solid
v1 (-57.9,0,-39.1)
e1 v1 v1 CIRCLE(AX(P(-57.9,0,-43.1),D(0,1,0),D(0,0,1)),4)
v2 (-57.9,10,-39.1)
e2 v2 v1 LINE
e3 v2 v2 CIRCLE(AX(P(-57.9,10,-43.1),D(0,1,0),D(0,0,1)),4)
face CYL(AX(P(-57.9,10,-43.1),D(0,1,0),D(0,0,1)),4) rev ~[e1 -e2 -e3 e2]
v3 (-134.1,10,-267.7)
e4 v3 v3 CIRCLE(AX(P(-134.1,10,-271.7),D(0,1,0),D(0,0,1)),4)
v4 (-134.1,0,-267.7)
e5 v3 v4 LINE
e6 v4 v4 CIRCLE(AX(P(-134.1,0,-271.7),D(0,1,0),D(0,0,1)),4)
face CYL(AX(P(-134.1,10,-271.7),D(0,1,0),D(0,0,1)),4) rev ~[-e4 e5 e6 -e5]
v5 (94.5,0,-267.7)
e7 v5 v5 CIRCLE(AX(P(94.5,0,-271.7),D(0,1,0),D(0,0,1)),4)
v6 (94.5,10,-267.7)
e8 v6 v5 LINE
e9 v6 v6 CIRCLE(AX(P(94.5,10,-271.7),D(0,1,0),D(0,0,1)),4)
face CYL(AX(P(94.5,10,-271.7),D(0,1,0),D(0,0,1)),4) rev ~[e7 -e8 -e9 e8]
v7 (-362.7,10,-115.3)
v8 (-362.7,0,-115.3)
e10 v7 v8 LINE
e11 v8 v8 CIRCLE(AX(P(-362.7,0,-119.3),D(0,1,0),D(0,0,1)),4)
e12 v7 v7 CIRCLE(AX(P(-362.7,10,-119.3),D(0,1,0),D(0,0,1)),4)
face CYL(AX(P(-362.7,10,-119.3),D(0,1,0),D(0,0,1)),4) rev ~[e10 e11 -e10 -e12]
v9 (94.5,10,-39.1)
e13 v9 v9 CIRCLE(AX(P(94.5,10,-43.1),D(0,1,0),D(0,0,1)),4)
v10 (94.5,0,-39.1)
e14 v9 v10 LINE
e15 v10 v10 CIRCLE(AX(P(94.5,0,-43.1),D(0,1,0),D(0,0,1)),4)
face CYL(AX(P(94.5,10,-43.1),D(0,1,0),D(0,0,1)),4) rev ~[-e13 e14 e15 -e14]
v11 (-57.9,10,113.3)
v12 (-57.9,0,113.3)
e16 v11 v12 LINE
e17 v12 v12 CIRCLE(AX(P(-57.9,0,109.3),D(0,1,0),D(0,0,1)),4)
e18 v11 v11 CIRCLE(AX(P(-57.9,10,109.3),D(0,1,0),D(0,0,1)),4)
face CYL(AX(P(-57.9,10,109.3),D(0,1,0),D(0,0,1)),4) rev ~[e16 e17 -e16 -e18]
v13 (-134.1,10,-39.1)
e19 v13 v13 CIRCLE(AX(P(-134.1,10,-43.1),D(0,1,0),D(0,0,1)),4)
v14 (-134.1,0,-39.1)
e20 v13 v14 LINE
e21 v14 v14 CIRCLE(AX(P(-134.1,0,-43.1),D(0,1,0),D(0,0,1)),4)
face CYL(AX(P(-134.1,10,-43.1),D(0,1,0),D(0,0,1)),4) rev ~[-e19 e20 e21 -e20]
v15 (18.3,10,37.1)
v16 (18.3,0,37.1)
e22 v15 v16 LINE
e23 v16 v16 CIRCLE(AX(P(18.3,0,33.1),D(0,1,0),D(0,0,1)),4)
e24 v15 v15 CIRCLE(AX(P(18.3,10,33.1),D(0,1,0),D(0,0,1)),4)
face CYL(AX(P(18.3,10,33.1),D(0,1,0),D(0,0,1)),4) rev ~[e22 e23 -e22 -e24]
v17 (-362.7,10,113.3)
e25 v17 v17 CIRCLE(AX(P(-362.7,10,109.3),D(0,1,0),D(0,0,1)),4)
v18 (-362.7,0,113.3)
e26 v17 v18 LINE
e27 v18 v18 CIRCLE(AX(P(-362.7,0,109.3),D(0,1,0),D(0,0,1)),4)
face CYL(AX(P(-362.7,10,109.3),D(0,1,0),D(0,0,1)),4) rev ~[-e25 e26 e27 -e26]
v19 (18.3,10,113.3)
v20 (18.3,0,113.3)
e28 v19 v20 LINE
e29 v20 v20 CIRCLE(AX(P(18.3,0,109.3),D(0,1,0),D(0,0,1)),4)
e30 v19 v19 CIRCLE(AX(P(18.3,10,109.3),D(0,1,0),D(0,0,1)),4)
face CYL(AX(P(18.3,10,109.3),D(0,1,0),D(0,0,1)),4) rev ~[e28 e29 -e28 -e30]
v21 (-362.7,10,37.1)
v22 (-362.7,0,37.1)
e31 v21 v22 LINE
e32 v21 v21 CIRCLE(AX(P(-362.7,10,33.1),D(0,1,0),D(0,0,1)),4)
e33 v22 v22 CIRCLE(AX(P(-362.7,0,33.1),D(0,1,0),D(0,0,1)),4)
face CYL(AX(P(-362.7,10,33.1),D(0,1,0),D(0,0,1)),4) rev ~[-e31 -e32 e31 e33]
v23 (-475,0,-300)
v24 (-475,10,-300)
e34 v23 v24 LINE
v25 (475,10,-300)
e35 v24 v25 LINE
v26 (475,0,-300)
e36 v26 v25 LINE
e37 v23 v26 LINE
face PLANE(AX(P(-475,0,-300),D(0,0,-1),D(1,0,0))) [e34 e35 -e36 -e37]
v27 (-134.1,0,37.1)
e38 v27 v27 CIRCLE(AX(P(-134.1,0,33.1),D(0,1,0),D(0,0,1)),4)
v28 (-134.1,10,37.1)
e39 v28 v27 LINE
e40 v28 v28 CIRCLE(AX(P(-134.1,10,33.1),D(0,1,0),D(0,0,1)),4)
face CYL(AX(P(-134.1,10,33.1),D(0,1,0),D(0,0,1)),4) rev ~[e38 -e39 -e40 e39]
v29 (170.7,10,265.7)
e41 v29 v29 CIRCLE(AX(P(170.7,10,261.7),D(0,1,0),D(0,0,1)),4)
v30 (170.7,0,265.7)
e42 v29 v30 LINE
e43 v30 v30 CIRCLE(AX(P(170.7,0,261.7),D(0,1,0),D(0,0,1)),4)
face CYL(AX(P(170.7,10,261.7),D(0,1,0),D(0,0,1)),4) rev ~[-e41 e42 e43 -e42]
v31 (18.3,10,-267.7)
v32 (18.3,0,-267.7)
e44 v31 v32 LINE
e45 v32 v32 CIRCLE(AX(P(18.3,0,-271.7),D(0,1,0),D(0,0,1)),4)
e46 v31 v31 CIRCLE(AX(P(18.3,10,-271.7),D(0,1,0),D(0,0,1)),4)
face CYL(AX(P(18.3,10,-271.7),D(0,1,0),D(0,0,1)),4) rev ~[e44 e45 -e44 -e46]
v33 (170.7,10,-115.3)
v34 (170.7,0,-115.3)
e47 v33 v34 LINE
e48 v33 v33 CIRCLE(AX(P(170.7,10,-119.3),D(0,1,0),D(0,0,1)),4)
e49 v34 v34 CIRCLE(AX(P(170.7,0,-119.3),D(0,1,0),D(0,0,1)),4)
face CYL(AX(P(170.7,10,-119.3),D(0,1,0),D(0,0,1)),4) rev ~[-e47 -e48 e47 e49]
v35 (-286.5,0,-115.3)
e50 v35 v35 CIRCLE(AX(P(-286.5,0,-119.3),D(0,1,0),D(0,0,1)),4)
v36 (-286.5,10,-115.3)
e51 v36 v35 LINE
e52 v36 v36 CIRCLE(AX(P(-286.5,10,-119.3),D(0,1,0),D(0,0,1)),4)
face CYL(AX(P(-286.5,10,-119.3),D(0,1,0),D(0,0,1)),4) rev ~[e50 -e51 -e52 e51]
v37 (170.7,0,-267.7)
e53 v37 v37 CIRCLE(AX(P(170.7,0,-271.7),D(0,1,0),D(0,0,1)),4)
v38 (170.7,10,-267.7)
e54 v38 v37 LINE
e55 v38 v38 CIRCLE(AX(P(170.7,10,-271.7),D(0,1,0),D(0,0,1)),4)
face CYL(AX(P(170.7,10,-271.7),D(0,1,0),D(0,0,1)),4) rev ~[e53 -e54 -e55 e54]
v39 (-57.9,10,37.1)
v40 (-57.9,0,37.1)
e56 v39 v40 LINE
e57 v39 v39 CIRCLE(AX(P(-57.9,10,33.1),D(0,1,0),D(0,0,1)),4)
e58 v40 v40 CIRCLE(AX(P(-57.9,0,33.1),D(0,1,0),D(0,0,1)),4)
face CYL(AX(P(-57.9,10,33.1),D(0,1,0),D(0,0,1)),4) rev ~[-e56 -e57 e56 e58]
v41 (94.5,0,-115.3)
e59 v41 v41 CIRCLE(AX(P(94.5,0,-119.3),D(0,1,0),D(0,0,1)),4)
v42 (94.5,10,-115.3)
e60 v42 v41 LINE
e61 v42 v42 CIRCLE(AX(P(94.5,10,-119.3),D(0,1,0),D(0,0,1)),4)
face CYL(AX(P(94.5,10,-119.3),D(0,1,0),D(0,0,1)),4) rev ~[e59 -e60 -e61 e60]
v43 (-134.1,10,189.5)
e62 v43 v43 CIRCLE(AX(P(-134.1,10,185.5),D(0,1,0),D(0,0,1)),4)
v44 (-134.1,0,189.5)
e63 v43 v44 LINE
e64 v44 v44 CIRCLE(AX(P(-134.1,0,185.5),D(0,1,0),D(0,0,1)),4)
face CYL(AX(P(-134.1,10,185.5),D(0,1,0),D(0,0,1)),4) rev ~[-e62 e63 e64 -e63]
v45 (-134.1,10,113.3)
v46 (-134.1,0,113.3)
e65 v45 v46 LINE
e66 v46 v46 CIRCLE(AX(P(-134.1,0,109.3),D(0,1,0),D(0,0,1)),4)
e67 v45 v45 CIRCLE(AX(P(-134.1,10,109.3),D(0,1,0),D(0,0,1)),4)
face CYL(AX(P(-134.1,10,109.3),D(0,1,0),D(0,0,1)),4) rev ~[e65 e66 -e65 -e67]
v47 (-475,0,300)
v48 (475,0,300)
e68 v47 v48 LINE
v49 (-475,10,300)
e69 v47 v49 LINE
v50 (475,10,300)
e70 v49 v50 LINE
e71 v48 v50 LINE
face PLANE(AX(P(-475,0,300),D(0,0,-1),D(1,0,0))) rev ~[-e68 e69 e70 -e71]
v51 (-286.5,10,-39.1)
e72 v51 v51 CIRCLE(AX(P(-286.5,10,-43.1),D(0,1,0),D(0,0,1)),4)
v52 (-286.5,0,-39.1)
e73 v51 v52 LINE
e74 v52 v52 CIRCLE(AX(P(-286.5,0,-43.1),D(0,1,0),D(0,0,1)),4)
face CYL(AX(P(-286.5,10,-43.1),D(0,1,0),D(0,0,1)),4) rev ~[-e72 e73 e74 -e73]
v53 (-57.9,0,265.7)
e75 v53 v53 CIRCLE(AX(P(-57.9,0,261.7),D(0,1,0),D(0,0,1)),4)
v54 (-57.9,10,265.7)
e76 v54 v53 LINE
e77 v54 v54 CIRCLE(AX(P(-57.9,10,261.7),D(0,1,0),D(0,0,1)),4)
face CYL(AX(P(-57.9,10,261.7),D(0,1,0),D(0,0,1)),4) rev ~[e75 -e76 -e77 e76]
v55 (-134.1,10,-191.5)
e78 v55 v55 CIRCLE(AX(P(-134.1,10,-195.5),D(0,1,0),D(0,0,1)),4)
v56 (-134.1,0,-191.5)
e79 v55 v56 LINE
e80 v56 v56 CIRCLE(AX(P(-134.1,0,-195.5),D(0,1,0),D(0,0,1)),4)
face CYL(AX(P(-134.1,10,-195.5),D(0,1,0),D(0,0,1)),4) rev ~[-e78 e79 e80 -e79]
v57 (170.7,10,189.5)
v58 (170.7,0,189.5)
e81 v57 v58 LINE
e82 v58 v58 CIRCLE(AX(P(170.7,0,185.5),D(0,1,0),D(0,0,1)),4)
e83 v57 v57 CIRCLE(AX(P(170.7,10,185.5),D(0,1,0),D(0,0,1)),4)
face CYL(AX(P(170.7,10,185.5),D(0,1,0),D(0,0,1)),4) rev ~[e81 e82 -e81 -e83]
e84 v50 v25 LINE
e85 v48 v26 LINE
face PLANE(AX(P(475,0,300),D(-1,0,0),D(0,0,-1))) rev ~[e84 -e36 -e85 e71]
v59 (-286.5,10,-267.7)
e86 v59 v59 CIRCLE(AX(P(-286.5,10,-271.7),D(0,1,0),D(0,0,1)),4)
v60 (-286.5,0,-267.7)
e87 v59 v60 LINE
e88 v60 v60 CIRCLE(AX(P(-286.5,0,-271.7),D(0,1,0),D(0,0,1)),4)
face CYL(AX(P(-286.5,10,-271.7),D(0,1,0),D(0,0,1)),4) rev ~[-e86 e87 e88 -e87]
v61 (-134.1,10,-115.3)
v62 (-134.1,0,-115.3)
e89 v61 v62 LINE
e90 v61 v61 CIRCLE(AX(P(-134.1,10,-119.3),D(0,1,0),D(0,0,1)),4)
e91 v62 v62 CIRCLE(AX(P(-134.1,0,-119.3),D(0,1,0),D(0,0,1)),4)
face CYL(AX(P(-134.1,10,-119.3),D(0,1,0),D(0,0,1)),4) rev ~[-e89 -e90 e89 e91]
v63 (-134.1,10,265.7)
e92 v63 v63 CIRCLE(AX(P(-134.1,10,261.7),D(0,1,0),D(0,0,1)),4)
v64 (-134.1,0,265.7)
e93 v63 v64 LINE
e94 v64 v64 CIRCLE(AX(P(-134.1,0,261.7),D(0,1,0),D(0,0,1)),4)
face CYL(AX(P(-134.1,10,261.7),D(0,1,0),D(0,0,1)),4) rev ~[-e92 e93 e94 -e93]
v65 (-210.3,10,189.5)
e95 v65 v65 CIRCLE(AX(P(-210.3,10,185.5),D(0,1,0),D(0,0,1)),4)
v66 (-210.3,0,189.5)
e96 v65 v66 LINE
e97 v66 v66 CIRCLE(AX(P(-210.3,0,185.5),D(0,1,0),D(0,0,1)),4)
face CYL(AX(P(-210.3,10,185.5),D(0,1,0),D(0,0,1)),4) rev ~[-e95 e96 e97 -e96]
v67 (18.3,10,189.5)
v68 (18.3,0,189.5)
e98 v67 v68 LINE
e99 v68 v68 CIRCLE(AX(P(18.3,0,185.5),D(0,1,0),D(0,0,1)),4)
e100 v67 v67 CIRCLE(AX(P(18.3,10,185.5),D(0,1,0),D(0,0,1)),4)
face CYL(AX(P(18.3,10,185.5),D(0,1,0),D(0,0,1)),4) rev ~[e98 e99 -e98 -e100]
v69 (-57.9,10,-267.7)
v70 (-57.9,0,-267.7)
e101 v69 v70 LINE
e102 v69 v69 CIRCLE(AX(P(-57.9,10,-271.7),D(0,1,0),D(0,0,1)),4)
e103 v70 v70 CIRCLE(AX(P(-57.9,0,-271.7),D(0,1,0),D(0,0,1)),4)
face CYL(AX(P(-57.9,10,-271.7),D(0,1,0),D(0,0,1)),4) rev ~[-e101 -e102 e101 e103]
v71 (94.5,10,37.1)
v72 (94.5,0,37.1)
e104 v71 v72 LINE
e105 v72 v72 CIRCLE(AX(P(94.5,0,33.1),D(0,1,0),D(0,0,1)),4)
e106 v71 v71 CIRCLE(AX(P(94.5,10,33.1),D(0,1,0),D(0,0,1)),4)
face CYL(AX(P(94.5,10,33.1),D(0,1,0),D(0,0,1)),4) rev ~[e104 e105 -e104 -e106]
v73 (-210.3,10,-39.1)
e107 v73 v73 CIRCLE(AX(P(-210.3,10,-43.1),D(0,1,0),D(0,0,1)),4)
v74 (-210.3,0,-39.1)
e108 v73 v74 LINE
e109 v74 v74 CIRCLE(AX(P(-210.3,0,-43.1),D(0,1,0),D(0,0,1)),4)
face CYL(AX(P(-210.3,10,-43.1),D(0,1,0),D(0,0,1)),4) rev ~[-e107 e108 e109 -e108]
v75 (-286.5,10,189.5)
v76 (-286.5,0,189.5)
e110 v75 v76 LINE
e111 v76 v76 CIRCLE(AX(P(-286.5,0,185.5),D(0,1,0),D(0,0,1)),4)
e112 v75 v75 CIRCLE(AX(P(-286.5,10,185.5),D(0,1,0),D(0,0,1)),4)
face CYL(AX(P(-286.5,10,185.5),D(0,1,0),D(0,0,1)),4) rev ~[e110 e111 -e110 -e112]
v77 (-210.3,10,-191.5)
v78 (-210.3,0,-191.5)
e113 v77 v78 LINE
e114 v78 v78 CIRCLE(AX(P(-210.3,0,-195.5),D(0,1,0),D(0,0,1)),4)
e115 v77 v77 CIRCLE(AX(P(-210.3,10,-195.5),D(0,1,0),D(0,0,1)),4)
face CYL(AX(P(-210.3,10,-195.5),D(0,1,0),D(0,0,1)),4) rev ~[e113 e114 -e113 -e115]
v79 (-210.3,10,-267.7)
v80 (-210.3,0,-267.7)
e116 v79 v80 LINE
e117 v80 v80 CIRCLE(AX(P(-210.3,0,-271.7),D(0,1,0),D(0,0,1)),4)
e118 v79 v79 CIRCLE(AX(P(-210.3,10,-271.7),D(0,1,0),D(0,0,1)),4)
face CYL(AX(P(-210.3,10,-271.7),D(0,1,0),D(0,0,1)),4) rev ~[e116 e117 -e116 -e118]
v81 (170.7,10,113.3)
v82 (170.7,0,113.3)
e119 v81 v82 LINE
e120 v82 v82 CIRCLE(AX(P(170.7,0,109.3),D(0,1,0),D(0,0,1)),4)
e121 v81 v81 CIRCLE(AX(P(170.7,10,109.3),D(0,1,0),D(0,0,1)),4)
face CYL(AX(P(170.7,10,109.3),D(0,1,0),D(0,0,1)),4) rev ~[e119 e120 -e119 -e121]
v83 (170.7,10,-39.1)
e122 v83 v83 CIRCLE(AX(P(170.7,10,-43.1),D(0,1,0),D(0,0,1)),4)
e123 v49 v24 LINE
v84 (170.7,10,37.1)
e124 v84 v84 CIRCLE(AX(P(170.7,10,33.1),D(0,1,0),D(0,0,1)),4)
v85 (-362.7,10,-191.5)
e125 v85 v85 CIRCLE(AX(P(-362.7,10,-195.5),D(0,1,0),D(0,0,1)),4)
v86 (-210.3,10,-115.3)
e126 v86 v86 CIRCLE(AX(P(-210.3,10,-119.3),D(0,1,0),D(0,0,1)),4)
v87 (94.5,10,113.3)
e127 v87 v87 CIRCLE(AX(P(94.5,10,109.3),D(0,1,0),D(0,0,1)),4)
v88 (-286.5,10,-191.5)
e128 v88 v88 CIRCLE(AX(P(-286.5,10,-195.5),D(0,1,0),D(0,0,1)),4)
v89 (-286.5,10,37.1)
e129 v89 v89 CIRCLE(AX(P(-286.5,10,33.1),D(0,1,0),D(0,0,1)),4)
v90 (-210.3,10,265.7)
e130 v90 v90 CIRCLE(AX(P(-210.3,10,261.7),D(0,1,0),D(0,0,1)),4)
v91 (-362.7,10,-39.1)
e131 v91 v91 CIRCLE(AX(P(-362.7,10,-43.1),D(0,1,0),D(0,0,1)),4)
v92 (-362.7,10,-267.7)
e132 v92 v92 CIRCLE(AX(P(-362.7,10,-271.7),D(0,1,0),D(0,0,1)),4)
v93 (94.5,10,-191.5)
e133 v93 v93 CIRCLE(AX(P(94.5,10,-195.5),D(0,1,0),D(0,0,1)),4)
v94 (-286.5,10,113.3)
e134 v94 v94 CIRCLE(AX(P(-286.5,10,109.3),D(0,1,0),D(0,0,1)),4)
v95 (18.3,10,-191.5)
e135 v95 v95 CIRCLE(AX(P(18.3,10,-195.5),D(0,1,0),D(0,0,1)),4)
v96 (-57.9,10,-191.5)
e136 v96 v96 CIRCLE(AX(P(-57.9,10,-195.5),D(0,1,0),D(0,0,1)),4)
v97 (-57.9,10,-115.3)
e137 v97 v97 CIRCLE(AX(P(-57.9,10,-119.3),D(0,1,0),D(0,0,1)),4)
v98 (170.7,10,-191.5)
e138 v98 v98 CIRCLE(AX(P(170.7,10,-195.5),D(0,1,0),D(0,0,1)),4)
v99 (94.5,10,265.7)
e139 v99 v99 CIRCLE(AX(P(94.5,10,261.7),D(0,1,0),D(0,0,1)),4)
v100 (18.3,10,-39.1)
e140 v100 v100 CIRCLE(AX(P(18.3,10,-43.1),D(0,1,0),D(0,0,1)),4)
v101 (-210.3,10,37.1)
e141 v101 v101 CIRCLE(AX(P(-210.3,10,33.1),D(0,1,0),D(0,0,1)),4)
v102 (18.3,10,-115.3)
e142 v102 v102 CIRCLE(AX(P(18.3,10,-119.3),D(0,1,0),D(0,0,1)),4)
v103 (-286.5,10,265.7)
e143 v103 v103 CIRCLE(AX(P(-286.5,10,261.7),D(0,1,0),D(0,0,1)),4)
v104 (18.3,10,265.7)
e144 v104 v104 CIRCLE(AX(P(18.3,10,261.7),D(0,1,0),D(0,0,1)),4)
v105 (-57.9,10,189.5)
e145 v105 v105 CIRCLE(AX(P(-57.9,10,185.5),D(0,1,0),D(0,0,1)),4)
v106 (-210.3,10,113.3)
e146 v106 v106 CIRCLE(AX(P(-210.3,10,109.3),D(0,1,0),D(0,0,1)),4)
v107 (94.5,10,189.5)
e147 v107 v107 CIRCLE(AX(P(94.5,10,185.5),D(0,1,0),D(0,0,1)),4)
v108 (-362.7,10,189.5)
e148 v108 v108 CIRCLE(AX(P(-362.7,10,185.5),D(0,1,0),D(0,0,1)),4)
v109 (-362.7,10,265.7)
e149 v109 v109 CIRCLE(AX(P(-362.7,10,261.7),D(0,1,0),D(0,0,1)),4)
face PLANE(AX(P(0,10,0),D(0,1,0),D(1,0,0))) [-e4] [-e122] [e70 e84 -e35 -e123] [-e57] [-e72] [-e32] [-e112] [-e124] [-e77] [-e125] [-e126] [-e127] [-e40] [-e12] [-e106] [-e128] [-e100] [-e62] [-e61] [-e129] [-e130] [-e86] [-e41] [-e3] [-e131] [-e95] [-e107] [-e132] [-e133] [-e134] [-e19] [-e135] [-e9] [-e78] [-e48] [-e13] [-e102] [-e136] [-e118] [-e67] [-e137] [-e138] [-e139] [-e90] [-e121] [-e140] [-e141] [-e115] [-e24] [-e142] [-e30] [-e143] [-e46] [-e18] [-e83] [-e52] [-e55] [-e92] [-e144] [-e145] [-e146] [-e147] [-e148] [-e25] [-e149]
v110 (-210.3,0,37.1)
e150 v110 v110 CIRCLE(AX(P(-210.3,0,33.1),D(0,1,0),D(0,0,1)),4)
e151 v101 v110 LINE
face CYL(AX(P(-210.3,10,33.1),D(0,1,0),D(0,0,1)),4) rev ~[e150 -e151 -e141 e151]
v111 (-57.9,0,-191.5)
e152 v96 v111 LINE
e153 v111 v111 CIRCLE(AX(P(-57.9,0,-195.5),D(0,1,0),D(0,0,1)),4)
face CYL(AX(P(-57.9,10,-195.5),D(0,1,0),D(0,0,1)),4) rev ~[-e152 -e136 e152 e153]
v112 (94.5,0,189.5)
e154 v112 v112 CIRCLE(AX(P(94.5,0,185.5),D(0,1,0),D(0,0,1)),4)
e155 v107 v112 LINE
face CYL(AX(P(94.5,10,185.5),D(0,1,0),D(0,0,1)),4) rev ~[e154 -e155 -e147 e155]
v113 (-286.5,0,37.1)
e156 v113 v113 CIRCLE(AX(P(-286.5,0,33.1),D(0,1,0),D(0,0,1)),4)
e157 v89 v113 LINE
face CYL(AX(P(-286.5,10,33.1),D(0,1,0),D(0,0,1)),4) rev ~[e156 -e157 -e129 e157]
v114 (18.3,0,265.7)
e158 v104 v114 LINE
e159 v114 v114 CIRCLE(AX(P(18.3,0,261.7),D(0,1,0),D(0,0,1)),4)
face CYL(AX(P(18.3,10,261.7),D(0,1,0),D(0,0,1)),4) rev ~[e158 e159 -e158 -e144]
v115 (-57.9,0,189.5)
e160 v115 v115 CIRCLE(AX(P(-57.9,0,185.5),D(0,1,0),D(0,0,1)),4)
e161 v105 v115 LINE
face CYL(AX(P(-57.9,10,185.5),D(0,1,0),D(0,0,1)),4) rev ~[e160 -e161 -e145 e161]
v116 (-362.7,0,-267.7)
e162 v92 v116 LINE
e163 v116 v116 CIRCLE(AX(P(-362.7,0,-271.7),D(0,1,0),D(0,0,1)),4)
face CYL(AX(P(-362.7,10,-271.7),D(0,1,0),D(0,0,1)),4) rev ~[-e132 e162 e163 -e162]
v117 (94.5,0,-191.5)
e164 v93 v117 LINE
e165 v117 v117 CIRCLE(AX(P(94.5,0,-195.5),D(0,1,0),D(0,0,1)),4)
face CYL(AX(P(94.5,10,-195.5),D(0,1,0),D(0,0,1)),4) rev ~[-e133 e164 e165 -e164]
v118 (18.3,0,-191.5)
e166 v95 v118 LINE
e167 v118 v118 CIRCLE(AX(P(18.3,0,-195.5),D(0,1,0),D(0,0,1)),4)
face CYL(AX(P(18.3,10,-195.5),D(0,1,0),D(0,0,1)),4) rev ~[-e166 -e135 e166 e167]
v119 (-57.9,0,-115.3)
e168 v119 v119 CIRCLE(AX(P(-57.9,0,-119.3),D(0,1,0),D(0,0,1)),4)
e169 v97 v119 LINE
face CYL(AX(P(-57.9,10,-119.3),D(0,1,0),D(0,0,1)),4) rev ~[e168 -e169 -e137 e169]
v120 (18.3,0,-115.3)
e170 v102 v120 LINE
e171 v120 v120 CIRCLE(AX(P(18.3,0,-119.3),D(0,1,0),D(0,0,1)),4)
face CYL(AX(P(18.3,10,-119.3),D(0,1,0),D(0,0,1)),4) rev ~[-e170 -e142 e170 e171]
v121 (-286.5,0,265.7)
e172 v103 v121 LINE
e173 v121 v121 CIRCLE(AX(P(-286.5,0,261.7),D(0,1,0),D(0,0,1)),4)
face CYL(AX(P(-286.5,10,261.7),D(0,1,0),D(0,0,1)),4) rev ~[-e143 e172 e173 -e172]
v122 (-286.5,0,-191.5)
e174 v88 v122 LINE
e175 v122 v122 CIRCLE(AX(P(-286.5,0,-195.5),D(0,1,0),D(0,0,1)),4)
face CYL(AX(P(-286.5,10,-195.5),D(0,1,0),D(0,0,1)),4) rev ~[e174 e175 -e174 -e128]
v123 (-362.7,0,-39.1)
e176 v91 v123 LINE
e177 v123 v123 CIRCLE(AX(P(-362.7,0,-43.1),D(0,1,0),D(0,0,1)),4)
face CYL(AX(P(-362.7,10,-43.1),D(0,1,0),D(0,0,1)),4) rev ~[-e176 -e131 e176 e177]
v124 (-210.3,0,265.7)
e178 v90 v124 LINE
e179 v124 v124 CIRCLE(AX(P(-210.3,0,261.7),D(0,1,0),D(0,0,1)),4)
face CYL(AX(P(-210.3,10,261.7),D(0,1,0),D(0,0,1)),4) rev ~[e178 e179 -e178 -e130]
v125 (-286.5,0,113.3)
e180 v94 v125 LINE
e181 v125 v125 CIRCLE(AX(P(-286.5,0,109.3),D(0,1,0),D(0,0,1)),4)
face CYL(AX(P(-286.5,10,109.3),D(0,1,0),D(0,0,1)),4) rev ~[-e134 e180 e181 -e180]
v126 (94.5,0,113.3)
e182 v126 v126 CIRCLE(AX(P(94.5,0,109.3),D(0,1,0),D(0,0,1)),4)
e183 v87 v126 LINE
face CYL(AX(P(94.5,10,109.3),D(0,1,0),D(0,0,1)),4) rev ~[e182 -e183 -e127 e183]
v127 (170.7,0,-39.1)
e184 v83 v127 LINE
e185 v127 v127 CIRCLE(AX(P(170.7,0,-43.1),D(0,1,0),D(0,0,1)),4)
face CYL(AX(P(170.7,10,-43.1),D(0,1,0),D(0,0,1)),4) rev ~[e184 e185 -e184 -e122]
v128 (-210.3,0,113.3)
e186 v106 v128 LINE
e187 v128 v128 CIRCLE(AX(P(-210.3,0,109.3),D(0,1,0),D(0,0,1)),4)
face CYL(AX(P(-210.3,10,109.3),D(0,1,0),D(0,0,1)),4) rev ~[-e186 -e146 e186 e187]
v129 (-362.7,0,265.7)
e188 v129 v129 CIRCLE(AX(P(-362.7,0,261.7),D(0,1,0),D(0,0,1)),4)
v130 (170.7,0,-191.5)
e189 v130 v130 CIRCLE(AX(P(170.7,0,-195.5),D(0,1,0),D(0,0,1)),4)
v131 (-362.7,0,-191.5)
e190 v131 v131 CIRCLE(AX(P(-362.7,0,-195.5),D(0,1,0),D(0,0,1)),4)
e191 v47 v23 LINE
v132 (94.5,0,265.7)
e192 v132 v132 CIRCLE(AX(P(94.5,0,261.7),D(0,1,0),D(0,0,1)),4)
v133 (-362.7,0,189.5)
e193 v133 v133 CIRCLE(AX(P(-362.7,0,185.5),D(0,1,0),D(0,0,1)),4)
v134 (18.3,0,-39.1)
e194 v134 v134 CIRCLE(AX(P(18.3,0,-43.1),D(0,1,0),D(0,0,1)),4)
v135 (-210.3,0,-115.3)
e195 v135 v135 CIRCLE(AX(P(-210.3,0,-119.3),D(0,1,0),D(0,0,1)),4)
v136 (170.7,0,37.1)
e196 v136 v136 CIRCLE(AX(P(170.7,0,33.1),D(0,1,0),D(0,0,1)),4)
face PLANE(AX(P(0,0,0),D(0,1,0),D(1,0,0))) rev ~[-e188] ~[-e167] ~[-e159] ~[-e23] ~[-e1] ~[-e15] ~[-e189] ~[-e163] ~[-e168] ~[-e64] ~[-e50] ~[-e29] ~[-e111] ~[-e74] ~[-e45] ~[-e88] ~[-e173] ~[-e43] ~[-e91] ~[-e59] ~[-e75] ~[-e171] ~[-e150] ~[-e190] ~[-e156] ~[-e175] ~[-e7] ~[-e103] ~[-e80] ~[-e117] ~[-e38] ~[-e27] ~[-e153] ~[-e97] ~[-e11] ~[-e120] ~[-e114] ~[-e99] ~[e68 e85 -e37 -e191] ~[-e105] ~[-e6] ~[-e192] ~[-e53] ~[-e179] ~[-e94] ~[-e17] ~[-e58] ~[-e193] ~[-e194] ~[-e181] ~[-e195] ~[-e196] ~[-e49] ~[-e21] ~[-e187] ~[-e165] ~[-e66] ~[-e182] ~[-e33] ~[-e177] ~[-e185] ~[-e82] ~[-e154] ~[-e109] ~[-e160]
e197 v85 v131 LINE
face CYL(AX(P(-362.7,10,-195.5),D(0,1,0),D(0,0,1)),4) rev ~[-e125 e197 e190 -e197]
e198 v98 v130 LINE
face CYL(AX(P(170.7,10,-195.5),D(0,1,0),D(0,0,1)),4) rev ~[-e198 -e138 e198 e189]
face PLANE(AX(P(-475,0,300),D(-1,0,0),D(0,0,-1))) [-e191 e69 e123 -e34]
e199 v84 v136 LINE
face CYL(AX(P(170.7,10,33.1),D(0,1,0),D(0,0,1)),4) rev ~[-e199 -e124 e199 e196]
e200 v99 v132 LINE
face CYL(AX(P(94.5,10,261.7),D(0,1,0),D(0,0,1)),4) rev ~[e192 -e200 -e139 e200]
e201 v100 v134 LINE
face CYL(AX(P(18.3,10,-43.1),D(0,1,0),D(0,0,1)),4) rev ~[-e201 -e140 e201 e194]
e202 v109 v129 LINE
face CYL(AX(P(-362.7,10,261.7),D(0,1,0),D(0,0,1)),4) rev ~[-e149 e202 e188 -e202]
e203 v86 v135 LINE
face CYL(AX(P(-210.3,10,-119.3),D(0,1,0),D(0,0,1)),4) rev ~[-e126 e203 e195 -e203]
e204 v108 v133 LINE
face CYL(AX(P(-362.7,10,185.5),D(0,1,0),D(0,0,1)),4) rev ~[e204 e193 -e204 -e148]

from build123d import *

# Parameters (mm, degrees)
SKETCH1_W           = 950
SKETCH1_H           = 600
BOSS_EXTRUDE1_DEPTH = 10
SKETCH2_R           = 4
CUT_EXTRUDE1_DEPTH  = 10


with BuildPart() as part:
    # Sketch1 → Boss-Extrude1 (new body)
    with BuildSketch(Plane(origin=(0, 0, 0), x_dir=(1, 0, 0), z_dir=(0, 1, 0))):
        Rectangle(SKETCH1_W, SKETCH1_H)
    extrude(amount=BOSS_EXTRUDE1_DEPTH)

    # Sketch2 → Cut-Extrude1 (cut)
    with BuildSketch(Plane(origin=(0, 10, 0), x_dir=(1, 0, 0), z_dir=(0, 1, 0))):
        with Locations(Location((-362.7, 271.7, 0), (0, 0, 270))):
            Circle(SKETCH2_R)
        with Locations(Location((-286.5, 271.7, 0), (0, 0, 270))):
            Circle(SKETCH2_R)
        with Locations(Location((-210.3, 271.7, 0), (0, 0, 270))):
            Circle(SKETCH2_R)
        with Locations(Location((-134.1, 271.7, 0), (0, 0, 270))):
            Circle(SKETCH2_R)
        with Locations(Location((-57.9, 271.7, 0), (0, 0, 270))):
            Circle(SKETCH2_R)
        with Locations(Location((18.3, 271.7, 0), (0, 0, 270))):
            Circle(SKETCH2_R)
        with Locations(Location((94.5, 271.7, 0), (0, 0, 270))):
            Circle(SKETCH2_R)
        with Locations(Location((170.7, 271.7, 0), (0, 0, 270))):
            Circle(SKETCH2_R)
        with Locations(Location((-362.7, 195.5, 0), (0, 0, 270))):
            Circle(SKETCH2_R)
        with Locations(Location((-286.5, 195.5, 0), (0, 0, 270))):
            Circle(SKETCH2_R)
        with Locations(Location((-210.3, 195.5, 0), (0, 0, 270))):
            Circle(SKETCH2_R)
        with Locations(Location((-134.1, 195.5, 0), (0, 0, 270))):
            Circle(SKETCH2_R)
        with Locations(Location((18.3, 195.5, 0), (0, 0, 270))):
            Circle(SKETCH2_R)
        with Locations(Location((-57.9, 195.5, 0), (0, 0, 270))):
            Circle(SKETCH2_R)
        with Locations(Location((94.5, 195.5, 0), (0, 0, 270))):
            Circle(SKETCH2_R)
        with Locations(Location((170.7, 195.5, 0), (0, 0, 270))):
            Circle(SKETCH2_R)
        with Locations(Location((-362.7, 119.3, 0), (0, 0, 270))):
            Circle(SKETCH2_R)
        with Locations(Location((-286.5, 119.3, 0), (0, 0, 270))):
            Circle(SKETCH2_R)
        with Locations(Location((-210.3, 119.3, 0), (0, 0, 270))):
            Circle(SKETCH2_R)
        with Locations(Location((-134.1, 119.3, 0), (0, 0, 270))):
            Circle(SKETCH2_R)
        with Locations(Location((18.3, 119.3, 0), (0, 0, 270))):
            Circle(SKETCH2_R)
        with Locations(Location((-57.9, 119.3, 0), (0, 0, 270))):
            Circle(SKETCH2_R)
        with Locations(Location((94.5, 119.3, 0), (0, 0, 270))):
            Circle(SKETCH2_R)
        with Locations(Location((170.7, 119.3, 0), (0, 0, 270))):
            Circle(SKETCH2_R)
        with Locations(Location((-362.7, 43.1, 0), (0, 0, 270))):
            Circle(SKETCH2_R)
        with Locations(Location((-286.5, 43.1, 0), (0, 0, 270))):
            Circle(SKETCH2_R)
        with Locations(Location((-210.3, 43.1, 0), (0, 0, 270))):
            Circle(SKETCH2_R)
        with Locations(Location((-134.1, 43.1, 0), (0, 0, 270))):
            Circle(SKETCH2_R)
        with Locations(Location((18.3, 43.1, 0), (0, 0, 270))):
            Circle(SKETCH2_R)
        with Locations(Location((-57.9, 43.1, 0), (0, 0, 270))):
            Circle(SKETCH2_R)
        with Locations(Location((94.5, 43.1, 0), (0, 0, 270))):
            Circle(SKETCH2_R)
        with Locations(Location((170.7, 43.1, 0), (0, 0, 270))):
            Circle(SKETCH2_R)
        with Locations(Location((-362.7, -33.1, 0), (0, 0, 270))):
            Circle(SKETCH2_R)
        with Locations(Location((-286.5, -33.1, 0), (0, 0, 270))):
            Circle(SKETCH2_R)
        with Locations(Location((-210.3, -33.1, 0), (0, 0, 270))):
            Circle(SKETCH2_R)
        with Locations(Location((-134.1, -33.1, 0), (0, 0, 270))):
            Circle(SKETCH2_R)
        with Locations(Location((18.3, -33.1, 0), (0, 0, 270))):
            Circle(SKETCH2_R)
        with Locations(Location((-57.9, -33.1, 0), (0, 0, 270))):
            Circle(SKETCH2_R)
        with Locations(Location((94.5, -33.1, 0), (0, 0, 270))):
            Circle(SKETCH2_R)
        with Locations(Location((170.7, -33.1, 0), (0, 0, 270))):
            Circle(SKETCH2_R)
        with Locations(Location((-362.7, -109.3, 0), (0, 0, 270))):
            Circle(SKETCH2_R)
        with Locations(Location((-286.5, -109.3, 0), (0, 0, 270))):
            Circle(SKETCH2_R)
        with Locations(Location((-210.3, -109.3, 0), (0, 0, 270))):
            Circle(SKETCH2_R)
        with Locations(Location((-134.1, -109.3, 0), (0, 0, 270))):
            Circle(SKETCH2_R)
        with Locations(Location((18.3, -109.3, 0), (0, 0, 270))):
            Circle(SKETCH2_R)
        with Locations(Location((-57.9, -109.3, 0), (0, 0, 270))):
            Circle(SKETCH2_R)
        with Locations(Location((94.5, -109.3, 0), (0, 0, 270))):
            Circle(SKETCH2_R)
        with Locations(Location((170.7, -109.3, 0), (0, 0, 270))):
            Circle(SKETCH2_R)
        with Locations(Location((-362.7, -185.5, 0), (0, 0, 270))):
            Circle(SKETCH2_R)
        with Locations(Location((-286.5, -185.5, 0), (0, 0, 270))):
            Circle(SKETCH2_R)
        with Locations(Location((-210.3, -185.5, 0), (0, 0, 270))):
            Circle(SKETCH2_R)
        with Locations(Location((-134.1, -185.5, 0), (0, 0, 270))):
            Circle(SKETCH2_R)
        with Locations(Location((18.3, -185.5, 0), (0, 0, 270))):
            Circle(SKETCH2_R)
        with Locations(Location((-57.9, -185.5, 0), (0, 0, 270))):
            Circle(SKETCH2_R)
        with Locations(Location((94.5, -185.5, 0), (0, 0, 270))):
            Circle(SKETCH2_R)
        with Locations(Location((170.7, -185.5, 0), (0, 0, 270))):
            Circle(SKETCH2_R)
        with Locations(Location((-362.7, -261.7, 0), (0, 0, 270))):
            Circle(SKETCH2_R)
        with Locations(Location((-286.5, -261.7, 0), (0, 0, 270))):
            Circle(SKETCH2_R)
        with Locations(Location((-210.3, -261.7, 0), (0, 0, 270))):
            Circle(SKETCH2_R)
        with Locations(Location((-134.1, -261.7, 0), (0, 0, 270))):
            Circle(SKETCH2_R)
        with Locations(Location((18.3, -261.7, 0), (0, 0, 270))):
            Circle(SKETCH2_R)
        with Locations(Location((-57.9, -261.7, 0), (0, 0, 270))):
            Circle(SKETCH2_R)
        with Locations(Location((94.5, -261.7, 0), (0, 0, 270))):
            Circle(SKETCH2_R)
        with Locations(Location((170.7, -261.7, 0), (0, 0, 270))):
            Circle(SKETCH2_R)
    extrude(amount=-CUT_EXTRUDE1_DEPTH, mode=Mode.SUBTRACT)


solid = part.part
